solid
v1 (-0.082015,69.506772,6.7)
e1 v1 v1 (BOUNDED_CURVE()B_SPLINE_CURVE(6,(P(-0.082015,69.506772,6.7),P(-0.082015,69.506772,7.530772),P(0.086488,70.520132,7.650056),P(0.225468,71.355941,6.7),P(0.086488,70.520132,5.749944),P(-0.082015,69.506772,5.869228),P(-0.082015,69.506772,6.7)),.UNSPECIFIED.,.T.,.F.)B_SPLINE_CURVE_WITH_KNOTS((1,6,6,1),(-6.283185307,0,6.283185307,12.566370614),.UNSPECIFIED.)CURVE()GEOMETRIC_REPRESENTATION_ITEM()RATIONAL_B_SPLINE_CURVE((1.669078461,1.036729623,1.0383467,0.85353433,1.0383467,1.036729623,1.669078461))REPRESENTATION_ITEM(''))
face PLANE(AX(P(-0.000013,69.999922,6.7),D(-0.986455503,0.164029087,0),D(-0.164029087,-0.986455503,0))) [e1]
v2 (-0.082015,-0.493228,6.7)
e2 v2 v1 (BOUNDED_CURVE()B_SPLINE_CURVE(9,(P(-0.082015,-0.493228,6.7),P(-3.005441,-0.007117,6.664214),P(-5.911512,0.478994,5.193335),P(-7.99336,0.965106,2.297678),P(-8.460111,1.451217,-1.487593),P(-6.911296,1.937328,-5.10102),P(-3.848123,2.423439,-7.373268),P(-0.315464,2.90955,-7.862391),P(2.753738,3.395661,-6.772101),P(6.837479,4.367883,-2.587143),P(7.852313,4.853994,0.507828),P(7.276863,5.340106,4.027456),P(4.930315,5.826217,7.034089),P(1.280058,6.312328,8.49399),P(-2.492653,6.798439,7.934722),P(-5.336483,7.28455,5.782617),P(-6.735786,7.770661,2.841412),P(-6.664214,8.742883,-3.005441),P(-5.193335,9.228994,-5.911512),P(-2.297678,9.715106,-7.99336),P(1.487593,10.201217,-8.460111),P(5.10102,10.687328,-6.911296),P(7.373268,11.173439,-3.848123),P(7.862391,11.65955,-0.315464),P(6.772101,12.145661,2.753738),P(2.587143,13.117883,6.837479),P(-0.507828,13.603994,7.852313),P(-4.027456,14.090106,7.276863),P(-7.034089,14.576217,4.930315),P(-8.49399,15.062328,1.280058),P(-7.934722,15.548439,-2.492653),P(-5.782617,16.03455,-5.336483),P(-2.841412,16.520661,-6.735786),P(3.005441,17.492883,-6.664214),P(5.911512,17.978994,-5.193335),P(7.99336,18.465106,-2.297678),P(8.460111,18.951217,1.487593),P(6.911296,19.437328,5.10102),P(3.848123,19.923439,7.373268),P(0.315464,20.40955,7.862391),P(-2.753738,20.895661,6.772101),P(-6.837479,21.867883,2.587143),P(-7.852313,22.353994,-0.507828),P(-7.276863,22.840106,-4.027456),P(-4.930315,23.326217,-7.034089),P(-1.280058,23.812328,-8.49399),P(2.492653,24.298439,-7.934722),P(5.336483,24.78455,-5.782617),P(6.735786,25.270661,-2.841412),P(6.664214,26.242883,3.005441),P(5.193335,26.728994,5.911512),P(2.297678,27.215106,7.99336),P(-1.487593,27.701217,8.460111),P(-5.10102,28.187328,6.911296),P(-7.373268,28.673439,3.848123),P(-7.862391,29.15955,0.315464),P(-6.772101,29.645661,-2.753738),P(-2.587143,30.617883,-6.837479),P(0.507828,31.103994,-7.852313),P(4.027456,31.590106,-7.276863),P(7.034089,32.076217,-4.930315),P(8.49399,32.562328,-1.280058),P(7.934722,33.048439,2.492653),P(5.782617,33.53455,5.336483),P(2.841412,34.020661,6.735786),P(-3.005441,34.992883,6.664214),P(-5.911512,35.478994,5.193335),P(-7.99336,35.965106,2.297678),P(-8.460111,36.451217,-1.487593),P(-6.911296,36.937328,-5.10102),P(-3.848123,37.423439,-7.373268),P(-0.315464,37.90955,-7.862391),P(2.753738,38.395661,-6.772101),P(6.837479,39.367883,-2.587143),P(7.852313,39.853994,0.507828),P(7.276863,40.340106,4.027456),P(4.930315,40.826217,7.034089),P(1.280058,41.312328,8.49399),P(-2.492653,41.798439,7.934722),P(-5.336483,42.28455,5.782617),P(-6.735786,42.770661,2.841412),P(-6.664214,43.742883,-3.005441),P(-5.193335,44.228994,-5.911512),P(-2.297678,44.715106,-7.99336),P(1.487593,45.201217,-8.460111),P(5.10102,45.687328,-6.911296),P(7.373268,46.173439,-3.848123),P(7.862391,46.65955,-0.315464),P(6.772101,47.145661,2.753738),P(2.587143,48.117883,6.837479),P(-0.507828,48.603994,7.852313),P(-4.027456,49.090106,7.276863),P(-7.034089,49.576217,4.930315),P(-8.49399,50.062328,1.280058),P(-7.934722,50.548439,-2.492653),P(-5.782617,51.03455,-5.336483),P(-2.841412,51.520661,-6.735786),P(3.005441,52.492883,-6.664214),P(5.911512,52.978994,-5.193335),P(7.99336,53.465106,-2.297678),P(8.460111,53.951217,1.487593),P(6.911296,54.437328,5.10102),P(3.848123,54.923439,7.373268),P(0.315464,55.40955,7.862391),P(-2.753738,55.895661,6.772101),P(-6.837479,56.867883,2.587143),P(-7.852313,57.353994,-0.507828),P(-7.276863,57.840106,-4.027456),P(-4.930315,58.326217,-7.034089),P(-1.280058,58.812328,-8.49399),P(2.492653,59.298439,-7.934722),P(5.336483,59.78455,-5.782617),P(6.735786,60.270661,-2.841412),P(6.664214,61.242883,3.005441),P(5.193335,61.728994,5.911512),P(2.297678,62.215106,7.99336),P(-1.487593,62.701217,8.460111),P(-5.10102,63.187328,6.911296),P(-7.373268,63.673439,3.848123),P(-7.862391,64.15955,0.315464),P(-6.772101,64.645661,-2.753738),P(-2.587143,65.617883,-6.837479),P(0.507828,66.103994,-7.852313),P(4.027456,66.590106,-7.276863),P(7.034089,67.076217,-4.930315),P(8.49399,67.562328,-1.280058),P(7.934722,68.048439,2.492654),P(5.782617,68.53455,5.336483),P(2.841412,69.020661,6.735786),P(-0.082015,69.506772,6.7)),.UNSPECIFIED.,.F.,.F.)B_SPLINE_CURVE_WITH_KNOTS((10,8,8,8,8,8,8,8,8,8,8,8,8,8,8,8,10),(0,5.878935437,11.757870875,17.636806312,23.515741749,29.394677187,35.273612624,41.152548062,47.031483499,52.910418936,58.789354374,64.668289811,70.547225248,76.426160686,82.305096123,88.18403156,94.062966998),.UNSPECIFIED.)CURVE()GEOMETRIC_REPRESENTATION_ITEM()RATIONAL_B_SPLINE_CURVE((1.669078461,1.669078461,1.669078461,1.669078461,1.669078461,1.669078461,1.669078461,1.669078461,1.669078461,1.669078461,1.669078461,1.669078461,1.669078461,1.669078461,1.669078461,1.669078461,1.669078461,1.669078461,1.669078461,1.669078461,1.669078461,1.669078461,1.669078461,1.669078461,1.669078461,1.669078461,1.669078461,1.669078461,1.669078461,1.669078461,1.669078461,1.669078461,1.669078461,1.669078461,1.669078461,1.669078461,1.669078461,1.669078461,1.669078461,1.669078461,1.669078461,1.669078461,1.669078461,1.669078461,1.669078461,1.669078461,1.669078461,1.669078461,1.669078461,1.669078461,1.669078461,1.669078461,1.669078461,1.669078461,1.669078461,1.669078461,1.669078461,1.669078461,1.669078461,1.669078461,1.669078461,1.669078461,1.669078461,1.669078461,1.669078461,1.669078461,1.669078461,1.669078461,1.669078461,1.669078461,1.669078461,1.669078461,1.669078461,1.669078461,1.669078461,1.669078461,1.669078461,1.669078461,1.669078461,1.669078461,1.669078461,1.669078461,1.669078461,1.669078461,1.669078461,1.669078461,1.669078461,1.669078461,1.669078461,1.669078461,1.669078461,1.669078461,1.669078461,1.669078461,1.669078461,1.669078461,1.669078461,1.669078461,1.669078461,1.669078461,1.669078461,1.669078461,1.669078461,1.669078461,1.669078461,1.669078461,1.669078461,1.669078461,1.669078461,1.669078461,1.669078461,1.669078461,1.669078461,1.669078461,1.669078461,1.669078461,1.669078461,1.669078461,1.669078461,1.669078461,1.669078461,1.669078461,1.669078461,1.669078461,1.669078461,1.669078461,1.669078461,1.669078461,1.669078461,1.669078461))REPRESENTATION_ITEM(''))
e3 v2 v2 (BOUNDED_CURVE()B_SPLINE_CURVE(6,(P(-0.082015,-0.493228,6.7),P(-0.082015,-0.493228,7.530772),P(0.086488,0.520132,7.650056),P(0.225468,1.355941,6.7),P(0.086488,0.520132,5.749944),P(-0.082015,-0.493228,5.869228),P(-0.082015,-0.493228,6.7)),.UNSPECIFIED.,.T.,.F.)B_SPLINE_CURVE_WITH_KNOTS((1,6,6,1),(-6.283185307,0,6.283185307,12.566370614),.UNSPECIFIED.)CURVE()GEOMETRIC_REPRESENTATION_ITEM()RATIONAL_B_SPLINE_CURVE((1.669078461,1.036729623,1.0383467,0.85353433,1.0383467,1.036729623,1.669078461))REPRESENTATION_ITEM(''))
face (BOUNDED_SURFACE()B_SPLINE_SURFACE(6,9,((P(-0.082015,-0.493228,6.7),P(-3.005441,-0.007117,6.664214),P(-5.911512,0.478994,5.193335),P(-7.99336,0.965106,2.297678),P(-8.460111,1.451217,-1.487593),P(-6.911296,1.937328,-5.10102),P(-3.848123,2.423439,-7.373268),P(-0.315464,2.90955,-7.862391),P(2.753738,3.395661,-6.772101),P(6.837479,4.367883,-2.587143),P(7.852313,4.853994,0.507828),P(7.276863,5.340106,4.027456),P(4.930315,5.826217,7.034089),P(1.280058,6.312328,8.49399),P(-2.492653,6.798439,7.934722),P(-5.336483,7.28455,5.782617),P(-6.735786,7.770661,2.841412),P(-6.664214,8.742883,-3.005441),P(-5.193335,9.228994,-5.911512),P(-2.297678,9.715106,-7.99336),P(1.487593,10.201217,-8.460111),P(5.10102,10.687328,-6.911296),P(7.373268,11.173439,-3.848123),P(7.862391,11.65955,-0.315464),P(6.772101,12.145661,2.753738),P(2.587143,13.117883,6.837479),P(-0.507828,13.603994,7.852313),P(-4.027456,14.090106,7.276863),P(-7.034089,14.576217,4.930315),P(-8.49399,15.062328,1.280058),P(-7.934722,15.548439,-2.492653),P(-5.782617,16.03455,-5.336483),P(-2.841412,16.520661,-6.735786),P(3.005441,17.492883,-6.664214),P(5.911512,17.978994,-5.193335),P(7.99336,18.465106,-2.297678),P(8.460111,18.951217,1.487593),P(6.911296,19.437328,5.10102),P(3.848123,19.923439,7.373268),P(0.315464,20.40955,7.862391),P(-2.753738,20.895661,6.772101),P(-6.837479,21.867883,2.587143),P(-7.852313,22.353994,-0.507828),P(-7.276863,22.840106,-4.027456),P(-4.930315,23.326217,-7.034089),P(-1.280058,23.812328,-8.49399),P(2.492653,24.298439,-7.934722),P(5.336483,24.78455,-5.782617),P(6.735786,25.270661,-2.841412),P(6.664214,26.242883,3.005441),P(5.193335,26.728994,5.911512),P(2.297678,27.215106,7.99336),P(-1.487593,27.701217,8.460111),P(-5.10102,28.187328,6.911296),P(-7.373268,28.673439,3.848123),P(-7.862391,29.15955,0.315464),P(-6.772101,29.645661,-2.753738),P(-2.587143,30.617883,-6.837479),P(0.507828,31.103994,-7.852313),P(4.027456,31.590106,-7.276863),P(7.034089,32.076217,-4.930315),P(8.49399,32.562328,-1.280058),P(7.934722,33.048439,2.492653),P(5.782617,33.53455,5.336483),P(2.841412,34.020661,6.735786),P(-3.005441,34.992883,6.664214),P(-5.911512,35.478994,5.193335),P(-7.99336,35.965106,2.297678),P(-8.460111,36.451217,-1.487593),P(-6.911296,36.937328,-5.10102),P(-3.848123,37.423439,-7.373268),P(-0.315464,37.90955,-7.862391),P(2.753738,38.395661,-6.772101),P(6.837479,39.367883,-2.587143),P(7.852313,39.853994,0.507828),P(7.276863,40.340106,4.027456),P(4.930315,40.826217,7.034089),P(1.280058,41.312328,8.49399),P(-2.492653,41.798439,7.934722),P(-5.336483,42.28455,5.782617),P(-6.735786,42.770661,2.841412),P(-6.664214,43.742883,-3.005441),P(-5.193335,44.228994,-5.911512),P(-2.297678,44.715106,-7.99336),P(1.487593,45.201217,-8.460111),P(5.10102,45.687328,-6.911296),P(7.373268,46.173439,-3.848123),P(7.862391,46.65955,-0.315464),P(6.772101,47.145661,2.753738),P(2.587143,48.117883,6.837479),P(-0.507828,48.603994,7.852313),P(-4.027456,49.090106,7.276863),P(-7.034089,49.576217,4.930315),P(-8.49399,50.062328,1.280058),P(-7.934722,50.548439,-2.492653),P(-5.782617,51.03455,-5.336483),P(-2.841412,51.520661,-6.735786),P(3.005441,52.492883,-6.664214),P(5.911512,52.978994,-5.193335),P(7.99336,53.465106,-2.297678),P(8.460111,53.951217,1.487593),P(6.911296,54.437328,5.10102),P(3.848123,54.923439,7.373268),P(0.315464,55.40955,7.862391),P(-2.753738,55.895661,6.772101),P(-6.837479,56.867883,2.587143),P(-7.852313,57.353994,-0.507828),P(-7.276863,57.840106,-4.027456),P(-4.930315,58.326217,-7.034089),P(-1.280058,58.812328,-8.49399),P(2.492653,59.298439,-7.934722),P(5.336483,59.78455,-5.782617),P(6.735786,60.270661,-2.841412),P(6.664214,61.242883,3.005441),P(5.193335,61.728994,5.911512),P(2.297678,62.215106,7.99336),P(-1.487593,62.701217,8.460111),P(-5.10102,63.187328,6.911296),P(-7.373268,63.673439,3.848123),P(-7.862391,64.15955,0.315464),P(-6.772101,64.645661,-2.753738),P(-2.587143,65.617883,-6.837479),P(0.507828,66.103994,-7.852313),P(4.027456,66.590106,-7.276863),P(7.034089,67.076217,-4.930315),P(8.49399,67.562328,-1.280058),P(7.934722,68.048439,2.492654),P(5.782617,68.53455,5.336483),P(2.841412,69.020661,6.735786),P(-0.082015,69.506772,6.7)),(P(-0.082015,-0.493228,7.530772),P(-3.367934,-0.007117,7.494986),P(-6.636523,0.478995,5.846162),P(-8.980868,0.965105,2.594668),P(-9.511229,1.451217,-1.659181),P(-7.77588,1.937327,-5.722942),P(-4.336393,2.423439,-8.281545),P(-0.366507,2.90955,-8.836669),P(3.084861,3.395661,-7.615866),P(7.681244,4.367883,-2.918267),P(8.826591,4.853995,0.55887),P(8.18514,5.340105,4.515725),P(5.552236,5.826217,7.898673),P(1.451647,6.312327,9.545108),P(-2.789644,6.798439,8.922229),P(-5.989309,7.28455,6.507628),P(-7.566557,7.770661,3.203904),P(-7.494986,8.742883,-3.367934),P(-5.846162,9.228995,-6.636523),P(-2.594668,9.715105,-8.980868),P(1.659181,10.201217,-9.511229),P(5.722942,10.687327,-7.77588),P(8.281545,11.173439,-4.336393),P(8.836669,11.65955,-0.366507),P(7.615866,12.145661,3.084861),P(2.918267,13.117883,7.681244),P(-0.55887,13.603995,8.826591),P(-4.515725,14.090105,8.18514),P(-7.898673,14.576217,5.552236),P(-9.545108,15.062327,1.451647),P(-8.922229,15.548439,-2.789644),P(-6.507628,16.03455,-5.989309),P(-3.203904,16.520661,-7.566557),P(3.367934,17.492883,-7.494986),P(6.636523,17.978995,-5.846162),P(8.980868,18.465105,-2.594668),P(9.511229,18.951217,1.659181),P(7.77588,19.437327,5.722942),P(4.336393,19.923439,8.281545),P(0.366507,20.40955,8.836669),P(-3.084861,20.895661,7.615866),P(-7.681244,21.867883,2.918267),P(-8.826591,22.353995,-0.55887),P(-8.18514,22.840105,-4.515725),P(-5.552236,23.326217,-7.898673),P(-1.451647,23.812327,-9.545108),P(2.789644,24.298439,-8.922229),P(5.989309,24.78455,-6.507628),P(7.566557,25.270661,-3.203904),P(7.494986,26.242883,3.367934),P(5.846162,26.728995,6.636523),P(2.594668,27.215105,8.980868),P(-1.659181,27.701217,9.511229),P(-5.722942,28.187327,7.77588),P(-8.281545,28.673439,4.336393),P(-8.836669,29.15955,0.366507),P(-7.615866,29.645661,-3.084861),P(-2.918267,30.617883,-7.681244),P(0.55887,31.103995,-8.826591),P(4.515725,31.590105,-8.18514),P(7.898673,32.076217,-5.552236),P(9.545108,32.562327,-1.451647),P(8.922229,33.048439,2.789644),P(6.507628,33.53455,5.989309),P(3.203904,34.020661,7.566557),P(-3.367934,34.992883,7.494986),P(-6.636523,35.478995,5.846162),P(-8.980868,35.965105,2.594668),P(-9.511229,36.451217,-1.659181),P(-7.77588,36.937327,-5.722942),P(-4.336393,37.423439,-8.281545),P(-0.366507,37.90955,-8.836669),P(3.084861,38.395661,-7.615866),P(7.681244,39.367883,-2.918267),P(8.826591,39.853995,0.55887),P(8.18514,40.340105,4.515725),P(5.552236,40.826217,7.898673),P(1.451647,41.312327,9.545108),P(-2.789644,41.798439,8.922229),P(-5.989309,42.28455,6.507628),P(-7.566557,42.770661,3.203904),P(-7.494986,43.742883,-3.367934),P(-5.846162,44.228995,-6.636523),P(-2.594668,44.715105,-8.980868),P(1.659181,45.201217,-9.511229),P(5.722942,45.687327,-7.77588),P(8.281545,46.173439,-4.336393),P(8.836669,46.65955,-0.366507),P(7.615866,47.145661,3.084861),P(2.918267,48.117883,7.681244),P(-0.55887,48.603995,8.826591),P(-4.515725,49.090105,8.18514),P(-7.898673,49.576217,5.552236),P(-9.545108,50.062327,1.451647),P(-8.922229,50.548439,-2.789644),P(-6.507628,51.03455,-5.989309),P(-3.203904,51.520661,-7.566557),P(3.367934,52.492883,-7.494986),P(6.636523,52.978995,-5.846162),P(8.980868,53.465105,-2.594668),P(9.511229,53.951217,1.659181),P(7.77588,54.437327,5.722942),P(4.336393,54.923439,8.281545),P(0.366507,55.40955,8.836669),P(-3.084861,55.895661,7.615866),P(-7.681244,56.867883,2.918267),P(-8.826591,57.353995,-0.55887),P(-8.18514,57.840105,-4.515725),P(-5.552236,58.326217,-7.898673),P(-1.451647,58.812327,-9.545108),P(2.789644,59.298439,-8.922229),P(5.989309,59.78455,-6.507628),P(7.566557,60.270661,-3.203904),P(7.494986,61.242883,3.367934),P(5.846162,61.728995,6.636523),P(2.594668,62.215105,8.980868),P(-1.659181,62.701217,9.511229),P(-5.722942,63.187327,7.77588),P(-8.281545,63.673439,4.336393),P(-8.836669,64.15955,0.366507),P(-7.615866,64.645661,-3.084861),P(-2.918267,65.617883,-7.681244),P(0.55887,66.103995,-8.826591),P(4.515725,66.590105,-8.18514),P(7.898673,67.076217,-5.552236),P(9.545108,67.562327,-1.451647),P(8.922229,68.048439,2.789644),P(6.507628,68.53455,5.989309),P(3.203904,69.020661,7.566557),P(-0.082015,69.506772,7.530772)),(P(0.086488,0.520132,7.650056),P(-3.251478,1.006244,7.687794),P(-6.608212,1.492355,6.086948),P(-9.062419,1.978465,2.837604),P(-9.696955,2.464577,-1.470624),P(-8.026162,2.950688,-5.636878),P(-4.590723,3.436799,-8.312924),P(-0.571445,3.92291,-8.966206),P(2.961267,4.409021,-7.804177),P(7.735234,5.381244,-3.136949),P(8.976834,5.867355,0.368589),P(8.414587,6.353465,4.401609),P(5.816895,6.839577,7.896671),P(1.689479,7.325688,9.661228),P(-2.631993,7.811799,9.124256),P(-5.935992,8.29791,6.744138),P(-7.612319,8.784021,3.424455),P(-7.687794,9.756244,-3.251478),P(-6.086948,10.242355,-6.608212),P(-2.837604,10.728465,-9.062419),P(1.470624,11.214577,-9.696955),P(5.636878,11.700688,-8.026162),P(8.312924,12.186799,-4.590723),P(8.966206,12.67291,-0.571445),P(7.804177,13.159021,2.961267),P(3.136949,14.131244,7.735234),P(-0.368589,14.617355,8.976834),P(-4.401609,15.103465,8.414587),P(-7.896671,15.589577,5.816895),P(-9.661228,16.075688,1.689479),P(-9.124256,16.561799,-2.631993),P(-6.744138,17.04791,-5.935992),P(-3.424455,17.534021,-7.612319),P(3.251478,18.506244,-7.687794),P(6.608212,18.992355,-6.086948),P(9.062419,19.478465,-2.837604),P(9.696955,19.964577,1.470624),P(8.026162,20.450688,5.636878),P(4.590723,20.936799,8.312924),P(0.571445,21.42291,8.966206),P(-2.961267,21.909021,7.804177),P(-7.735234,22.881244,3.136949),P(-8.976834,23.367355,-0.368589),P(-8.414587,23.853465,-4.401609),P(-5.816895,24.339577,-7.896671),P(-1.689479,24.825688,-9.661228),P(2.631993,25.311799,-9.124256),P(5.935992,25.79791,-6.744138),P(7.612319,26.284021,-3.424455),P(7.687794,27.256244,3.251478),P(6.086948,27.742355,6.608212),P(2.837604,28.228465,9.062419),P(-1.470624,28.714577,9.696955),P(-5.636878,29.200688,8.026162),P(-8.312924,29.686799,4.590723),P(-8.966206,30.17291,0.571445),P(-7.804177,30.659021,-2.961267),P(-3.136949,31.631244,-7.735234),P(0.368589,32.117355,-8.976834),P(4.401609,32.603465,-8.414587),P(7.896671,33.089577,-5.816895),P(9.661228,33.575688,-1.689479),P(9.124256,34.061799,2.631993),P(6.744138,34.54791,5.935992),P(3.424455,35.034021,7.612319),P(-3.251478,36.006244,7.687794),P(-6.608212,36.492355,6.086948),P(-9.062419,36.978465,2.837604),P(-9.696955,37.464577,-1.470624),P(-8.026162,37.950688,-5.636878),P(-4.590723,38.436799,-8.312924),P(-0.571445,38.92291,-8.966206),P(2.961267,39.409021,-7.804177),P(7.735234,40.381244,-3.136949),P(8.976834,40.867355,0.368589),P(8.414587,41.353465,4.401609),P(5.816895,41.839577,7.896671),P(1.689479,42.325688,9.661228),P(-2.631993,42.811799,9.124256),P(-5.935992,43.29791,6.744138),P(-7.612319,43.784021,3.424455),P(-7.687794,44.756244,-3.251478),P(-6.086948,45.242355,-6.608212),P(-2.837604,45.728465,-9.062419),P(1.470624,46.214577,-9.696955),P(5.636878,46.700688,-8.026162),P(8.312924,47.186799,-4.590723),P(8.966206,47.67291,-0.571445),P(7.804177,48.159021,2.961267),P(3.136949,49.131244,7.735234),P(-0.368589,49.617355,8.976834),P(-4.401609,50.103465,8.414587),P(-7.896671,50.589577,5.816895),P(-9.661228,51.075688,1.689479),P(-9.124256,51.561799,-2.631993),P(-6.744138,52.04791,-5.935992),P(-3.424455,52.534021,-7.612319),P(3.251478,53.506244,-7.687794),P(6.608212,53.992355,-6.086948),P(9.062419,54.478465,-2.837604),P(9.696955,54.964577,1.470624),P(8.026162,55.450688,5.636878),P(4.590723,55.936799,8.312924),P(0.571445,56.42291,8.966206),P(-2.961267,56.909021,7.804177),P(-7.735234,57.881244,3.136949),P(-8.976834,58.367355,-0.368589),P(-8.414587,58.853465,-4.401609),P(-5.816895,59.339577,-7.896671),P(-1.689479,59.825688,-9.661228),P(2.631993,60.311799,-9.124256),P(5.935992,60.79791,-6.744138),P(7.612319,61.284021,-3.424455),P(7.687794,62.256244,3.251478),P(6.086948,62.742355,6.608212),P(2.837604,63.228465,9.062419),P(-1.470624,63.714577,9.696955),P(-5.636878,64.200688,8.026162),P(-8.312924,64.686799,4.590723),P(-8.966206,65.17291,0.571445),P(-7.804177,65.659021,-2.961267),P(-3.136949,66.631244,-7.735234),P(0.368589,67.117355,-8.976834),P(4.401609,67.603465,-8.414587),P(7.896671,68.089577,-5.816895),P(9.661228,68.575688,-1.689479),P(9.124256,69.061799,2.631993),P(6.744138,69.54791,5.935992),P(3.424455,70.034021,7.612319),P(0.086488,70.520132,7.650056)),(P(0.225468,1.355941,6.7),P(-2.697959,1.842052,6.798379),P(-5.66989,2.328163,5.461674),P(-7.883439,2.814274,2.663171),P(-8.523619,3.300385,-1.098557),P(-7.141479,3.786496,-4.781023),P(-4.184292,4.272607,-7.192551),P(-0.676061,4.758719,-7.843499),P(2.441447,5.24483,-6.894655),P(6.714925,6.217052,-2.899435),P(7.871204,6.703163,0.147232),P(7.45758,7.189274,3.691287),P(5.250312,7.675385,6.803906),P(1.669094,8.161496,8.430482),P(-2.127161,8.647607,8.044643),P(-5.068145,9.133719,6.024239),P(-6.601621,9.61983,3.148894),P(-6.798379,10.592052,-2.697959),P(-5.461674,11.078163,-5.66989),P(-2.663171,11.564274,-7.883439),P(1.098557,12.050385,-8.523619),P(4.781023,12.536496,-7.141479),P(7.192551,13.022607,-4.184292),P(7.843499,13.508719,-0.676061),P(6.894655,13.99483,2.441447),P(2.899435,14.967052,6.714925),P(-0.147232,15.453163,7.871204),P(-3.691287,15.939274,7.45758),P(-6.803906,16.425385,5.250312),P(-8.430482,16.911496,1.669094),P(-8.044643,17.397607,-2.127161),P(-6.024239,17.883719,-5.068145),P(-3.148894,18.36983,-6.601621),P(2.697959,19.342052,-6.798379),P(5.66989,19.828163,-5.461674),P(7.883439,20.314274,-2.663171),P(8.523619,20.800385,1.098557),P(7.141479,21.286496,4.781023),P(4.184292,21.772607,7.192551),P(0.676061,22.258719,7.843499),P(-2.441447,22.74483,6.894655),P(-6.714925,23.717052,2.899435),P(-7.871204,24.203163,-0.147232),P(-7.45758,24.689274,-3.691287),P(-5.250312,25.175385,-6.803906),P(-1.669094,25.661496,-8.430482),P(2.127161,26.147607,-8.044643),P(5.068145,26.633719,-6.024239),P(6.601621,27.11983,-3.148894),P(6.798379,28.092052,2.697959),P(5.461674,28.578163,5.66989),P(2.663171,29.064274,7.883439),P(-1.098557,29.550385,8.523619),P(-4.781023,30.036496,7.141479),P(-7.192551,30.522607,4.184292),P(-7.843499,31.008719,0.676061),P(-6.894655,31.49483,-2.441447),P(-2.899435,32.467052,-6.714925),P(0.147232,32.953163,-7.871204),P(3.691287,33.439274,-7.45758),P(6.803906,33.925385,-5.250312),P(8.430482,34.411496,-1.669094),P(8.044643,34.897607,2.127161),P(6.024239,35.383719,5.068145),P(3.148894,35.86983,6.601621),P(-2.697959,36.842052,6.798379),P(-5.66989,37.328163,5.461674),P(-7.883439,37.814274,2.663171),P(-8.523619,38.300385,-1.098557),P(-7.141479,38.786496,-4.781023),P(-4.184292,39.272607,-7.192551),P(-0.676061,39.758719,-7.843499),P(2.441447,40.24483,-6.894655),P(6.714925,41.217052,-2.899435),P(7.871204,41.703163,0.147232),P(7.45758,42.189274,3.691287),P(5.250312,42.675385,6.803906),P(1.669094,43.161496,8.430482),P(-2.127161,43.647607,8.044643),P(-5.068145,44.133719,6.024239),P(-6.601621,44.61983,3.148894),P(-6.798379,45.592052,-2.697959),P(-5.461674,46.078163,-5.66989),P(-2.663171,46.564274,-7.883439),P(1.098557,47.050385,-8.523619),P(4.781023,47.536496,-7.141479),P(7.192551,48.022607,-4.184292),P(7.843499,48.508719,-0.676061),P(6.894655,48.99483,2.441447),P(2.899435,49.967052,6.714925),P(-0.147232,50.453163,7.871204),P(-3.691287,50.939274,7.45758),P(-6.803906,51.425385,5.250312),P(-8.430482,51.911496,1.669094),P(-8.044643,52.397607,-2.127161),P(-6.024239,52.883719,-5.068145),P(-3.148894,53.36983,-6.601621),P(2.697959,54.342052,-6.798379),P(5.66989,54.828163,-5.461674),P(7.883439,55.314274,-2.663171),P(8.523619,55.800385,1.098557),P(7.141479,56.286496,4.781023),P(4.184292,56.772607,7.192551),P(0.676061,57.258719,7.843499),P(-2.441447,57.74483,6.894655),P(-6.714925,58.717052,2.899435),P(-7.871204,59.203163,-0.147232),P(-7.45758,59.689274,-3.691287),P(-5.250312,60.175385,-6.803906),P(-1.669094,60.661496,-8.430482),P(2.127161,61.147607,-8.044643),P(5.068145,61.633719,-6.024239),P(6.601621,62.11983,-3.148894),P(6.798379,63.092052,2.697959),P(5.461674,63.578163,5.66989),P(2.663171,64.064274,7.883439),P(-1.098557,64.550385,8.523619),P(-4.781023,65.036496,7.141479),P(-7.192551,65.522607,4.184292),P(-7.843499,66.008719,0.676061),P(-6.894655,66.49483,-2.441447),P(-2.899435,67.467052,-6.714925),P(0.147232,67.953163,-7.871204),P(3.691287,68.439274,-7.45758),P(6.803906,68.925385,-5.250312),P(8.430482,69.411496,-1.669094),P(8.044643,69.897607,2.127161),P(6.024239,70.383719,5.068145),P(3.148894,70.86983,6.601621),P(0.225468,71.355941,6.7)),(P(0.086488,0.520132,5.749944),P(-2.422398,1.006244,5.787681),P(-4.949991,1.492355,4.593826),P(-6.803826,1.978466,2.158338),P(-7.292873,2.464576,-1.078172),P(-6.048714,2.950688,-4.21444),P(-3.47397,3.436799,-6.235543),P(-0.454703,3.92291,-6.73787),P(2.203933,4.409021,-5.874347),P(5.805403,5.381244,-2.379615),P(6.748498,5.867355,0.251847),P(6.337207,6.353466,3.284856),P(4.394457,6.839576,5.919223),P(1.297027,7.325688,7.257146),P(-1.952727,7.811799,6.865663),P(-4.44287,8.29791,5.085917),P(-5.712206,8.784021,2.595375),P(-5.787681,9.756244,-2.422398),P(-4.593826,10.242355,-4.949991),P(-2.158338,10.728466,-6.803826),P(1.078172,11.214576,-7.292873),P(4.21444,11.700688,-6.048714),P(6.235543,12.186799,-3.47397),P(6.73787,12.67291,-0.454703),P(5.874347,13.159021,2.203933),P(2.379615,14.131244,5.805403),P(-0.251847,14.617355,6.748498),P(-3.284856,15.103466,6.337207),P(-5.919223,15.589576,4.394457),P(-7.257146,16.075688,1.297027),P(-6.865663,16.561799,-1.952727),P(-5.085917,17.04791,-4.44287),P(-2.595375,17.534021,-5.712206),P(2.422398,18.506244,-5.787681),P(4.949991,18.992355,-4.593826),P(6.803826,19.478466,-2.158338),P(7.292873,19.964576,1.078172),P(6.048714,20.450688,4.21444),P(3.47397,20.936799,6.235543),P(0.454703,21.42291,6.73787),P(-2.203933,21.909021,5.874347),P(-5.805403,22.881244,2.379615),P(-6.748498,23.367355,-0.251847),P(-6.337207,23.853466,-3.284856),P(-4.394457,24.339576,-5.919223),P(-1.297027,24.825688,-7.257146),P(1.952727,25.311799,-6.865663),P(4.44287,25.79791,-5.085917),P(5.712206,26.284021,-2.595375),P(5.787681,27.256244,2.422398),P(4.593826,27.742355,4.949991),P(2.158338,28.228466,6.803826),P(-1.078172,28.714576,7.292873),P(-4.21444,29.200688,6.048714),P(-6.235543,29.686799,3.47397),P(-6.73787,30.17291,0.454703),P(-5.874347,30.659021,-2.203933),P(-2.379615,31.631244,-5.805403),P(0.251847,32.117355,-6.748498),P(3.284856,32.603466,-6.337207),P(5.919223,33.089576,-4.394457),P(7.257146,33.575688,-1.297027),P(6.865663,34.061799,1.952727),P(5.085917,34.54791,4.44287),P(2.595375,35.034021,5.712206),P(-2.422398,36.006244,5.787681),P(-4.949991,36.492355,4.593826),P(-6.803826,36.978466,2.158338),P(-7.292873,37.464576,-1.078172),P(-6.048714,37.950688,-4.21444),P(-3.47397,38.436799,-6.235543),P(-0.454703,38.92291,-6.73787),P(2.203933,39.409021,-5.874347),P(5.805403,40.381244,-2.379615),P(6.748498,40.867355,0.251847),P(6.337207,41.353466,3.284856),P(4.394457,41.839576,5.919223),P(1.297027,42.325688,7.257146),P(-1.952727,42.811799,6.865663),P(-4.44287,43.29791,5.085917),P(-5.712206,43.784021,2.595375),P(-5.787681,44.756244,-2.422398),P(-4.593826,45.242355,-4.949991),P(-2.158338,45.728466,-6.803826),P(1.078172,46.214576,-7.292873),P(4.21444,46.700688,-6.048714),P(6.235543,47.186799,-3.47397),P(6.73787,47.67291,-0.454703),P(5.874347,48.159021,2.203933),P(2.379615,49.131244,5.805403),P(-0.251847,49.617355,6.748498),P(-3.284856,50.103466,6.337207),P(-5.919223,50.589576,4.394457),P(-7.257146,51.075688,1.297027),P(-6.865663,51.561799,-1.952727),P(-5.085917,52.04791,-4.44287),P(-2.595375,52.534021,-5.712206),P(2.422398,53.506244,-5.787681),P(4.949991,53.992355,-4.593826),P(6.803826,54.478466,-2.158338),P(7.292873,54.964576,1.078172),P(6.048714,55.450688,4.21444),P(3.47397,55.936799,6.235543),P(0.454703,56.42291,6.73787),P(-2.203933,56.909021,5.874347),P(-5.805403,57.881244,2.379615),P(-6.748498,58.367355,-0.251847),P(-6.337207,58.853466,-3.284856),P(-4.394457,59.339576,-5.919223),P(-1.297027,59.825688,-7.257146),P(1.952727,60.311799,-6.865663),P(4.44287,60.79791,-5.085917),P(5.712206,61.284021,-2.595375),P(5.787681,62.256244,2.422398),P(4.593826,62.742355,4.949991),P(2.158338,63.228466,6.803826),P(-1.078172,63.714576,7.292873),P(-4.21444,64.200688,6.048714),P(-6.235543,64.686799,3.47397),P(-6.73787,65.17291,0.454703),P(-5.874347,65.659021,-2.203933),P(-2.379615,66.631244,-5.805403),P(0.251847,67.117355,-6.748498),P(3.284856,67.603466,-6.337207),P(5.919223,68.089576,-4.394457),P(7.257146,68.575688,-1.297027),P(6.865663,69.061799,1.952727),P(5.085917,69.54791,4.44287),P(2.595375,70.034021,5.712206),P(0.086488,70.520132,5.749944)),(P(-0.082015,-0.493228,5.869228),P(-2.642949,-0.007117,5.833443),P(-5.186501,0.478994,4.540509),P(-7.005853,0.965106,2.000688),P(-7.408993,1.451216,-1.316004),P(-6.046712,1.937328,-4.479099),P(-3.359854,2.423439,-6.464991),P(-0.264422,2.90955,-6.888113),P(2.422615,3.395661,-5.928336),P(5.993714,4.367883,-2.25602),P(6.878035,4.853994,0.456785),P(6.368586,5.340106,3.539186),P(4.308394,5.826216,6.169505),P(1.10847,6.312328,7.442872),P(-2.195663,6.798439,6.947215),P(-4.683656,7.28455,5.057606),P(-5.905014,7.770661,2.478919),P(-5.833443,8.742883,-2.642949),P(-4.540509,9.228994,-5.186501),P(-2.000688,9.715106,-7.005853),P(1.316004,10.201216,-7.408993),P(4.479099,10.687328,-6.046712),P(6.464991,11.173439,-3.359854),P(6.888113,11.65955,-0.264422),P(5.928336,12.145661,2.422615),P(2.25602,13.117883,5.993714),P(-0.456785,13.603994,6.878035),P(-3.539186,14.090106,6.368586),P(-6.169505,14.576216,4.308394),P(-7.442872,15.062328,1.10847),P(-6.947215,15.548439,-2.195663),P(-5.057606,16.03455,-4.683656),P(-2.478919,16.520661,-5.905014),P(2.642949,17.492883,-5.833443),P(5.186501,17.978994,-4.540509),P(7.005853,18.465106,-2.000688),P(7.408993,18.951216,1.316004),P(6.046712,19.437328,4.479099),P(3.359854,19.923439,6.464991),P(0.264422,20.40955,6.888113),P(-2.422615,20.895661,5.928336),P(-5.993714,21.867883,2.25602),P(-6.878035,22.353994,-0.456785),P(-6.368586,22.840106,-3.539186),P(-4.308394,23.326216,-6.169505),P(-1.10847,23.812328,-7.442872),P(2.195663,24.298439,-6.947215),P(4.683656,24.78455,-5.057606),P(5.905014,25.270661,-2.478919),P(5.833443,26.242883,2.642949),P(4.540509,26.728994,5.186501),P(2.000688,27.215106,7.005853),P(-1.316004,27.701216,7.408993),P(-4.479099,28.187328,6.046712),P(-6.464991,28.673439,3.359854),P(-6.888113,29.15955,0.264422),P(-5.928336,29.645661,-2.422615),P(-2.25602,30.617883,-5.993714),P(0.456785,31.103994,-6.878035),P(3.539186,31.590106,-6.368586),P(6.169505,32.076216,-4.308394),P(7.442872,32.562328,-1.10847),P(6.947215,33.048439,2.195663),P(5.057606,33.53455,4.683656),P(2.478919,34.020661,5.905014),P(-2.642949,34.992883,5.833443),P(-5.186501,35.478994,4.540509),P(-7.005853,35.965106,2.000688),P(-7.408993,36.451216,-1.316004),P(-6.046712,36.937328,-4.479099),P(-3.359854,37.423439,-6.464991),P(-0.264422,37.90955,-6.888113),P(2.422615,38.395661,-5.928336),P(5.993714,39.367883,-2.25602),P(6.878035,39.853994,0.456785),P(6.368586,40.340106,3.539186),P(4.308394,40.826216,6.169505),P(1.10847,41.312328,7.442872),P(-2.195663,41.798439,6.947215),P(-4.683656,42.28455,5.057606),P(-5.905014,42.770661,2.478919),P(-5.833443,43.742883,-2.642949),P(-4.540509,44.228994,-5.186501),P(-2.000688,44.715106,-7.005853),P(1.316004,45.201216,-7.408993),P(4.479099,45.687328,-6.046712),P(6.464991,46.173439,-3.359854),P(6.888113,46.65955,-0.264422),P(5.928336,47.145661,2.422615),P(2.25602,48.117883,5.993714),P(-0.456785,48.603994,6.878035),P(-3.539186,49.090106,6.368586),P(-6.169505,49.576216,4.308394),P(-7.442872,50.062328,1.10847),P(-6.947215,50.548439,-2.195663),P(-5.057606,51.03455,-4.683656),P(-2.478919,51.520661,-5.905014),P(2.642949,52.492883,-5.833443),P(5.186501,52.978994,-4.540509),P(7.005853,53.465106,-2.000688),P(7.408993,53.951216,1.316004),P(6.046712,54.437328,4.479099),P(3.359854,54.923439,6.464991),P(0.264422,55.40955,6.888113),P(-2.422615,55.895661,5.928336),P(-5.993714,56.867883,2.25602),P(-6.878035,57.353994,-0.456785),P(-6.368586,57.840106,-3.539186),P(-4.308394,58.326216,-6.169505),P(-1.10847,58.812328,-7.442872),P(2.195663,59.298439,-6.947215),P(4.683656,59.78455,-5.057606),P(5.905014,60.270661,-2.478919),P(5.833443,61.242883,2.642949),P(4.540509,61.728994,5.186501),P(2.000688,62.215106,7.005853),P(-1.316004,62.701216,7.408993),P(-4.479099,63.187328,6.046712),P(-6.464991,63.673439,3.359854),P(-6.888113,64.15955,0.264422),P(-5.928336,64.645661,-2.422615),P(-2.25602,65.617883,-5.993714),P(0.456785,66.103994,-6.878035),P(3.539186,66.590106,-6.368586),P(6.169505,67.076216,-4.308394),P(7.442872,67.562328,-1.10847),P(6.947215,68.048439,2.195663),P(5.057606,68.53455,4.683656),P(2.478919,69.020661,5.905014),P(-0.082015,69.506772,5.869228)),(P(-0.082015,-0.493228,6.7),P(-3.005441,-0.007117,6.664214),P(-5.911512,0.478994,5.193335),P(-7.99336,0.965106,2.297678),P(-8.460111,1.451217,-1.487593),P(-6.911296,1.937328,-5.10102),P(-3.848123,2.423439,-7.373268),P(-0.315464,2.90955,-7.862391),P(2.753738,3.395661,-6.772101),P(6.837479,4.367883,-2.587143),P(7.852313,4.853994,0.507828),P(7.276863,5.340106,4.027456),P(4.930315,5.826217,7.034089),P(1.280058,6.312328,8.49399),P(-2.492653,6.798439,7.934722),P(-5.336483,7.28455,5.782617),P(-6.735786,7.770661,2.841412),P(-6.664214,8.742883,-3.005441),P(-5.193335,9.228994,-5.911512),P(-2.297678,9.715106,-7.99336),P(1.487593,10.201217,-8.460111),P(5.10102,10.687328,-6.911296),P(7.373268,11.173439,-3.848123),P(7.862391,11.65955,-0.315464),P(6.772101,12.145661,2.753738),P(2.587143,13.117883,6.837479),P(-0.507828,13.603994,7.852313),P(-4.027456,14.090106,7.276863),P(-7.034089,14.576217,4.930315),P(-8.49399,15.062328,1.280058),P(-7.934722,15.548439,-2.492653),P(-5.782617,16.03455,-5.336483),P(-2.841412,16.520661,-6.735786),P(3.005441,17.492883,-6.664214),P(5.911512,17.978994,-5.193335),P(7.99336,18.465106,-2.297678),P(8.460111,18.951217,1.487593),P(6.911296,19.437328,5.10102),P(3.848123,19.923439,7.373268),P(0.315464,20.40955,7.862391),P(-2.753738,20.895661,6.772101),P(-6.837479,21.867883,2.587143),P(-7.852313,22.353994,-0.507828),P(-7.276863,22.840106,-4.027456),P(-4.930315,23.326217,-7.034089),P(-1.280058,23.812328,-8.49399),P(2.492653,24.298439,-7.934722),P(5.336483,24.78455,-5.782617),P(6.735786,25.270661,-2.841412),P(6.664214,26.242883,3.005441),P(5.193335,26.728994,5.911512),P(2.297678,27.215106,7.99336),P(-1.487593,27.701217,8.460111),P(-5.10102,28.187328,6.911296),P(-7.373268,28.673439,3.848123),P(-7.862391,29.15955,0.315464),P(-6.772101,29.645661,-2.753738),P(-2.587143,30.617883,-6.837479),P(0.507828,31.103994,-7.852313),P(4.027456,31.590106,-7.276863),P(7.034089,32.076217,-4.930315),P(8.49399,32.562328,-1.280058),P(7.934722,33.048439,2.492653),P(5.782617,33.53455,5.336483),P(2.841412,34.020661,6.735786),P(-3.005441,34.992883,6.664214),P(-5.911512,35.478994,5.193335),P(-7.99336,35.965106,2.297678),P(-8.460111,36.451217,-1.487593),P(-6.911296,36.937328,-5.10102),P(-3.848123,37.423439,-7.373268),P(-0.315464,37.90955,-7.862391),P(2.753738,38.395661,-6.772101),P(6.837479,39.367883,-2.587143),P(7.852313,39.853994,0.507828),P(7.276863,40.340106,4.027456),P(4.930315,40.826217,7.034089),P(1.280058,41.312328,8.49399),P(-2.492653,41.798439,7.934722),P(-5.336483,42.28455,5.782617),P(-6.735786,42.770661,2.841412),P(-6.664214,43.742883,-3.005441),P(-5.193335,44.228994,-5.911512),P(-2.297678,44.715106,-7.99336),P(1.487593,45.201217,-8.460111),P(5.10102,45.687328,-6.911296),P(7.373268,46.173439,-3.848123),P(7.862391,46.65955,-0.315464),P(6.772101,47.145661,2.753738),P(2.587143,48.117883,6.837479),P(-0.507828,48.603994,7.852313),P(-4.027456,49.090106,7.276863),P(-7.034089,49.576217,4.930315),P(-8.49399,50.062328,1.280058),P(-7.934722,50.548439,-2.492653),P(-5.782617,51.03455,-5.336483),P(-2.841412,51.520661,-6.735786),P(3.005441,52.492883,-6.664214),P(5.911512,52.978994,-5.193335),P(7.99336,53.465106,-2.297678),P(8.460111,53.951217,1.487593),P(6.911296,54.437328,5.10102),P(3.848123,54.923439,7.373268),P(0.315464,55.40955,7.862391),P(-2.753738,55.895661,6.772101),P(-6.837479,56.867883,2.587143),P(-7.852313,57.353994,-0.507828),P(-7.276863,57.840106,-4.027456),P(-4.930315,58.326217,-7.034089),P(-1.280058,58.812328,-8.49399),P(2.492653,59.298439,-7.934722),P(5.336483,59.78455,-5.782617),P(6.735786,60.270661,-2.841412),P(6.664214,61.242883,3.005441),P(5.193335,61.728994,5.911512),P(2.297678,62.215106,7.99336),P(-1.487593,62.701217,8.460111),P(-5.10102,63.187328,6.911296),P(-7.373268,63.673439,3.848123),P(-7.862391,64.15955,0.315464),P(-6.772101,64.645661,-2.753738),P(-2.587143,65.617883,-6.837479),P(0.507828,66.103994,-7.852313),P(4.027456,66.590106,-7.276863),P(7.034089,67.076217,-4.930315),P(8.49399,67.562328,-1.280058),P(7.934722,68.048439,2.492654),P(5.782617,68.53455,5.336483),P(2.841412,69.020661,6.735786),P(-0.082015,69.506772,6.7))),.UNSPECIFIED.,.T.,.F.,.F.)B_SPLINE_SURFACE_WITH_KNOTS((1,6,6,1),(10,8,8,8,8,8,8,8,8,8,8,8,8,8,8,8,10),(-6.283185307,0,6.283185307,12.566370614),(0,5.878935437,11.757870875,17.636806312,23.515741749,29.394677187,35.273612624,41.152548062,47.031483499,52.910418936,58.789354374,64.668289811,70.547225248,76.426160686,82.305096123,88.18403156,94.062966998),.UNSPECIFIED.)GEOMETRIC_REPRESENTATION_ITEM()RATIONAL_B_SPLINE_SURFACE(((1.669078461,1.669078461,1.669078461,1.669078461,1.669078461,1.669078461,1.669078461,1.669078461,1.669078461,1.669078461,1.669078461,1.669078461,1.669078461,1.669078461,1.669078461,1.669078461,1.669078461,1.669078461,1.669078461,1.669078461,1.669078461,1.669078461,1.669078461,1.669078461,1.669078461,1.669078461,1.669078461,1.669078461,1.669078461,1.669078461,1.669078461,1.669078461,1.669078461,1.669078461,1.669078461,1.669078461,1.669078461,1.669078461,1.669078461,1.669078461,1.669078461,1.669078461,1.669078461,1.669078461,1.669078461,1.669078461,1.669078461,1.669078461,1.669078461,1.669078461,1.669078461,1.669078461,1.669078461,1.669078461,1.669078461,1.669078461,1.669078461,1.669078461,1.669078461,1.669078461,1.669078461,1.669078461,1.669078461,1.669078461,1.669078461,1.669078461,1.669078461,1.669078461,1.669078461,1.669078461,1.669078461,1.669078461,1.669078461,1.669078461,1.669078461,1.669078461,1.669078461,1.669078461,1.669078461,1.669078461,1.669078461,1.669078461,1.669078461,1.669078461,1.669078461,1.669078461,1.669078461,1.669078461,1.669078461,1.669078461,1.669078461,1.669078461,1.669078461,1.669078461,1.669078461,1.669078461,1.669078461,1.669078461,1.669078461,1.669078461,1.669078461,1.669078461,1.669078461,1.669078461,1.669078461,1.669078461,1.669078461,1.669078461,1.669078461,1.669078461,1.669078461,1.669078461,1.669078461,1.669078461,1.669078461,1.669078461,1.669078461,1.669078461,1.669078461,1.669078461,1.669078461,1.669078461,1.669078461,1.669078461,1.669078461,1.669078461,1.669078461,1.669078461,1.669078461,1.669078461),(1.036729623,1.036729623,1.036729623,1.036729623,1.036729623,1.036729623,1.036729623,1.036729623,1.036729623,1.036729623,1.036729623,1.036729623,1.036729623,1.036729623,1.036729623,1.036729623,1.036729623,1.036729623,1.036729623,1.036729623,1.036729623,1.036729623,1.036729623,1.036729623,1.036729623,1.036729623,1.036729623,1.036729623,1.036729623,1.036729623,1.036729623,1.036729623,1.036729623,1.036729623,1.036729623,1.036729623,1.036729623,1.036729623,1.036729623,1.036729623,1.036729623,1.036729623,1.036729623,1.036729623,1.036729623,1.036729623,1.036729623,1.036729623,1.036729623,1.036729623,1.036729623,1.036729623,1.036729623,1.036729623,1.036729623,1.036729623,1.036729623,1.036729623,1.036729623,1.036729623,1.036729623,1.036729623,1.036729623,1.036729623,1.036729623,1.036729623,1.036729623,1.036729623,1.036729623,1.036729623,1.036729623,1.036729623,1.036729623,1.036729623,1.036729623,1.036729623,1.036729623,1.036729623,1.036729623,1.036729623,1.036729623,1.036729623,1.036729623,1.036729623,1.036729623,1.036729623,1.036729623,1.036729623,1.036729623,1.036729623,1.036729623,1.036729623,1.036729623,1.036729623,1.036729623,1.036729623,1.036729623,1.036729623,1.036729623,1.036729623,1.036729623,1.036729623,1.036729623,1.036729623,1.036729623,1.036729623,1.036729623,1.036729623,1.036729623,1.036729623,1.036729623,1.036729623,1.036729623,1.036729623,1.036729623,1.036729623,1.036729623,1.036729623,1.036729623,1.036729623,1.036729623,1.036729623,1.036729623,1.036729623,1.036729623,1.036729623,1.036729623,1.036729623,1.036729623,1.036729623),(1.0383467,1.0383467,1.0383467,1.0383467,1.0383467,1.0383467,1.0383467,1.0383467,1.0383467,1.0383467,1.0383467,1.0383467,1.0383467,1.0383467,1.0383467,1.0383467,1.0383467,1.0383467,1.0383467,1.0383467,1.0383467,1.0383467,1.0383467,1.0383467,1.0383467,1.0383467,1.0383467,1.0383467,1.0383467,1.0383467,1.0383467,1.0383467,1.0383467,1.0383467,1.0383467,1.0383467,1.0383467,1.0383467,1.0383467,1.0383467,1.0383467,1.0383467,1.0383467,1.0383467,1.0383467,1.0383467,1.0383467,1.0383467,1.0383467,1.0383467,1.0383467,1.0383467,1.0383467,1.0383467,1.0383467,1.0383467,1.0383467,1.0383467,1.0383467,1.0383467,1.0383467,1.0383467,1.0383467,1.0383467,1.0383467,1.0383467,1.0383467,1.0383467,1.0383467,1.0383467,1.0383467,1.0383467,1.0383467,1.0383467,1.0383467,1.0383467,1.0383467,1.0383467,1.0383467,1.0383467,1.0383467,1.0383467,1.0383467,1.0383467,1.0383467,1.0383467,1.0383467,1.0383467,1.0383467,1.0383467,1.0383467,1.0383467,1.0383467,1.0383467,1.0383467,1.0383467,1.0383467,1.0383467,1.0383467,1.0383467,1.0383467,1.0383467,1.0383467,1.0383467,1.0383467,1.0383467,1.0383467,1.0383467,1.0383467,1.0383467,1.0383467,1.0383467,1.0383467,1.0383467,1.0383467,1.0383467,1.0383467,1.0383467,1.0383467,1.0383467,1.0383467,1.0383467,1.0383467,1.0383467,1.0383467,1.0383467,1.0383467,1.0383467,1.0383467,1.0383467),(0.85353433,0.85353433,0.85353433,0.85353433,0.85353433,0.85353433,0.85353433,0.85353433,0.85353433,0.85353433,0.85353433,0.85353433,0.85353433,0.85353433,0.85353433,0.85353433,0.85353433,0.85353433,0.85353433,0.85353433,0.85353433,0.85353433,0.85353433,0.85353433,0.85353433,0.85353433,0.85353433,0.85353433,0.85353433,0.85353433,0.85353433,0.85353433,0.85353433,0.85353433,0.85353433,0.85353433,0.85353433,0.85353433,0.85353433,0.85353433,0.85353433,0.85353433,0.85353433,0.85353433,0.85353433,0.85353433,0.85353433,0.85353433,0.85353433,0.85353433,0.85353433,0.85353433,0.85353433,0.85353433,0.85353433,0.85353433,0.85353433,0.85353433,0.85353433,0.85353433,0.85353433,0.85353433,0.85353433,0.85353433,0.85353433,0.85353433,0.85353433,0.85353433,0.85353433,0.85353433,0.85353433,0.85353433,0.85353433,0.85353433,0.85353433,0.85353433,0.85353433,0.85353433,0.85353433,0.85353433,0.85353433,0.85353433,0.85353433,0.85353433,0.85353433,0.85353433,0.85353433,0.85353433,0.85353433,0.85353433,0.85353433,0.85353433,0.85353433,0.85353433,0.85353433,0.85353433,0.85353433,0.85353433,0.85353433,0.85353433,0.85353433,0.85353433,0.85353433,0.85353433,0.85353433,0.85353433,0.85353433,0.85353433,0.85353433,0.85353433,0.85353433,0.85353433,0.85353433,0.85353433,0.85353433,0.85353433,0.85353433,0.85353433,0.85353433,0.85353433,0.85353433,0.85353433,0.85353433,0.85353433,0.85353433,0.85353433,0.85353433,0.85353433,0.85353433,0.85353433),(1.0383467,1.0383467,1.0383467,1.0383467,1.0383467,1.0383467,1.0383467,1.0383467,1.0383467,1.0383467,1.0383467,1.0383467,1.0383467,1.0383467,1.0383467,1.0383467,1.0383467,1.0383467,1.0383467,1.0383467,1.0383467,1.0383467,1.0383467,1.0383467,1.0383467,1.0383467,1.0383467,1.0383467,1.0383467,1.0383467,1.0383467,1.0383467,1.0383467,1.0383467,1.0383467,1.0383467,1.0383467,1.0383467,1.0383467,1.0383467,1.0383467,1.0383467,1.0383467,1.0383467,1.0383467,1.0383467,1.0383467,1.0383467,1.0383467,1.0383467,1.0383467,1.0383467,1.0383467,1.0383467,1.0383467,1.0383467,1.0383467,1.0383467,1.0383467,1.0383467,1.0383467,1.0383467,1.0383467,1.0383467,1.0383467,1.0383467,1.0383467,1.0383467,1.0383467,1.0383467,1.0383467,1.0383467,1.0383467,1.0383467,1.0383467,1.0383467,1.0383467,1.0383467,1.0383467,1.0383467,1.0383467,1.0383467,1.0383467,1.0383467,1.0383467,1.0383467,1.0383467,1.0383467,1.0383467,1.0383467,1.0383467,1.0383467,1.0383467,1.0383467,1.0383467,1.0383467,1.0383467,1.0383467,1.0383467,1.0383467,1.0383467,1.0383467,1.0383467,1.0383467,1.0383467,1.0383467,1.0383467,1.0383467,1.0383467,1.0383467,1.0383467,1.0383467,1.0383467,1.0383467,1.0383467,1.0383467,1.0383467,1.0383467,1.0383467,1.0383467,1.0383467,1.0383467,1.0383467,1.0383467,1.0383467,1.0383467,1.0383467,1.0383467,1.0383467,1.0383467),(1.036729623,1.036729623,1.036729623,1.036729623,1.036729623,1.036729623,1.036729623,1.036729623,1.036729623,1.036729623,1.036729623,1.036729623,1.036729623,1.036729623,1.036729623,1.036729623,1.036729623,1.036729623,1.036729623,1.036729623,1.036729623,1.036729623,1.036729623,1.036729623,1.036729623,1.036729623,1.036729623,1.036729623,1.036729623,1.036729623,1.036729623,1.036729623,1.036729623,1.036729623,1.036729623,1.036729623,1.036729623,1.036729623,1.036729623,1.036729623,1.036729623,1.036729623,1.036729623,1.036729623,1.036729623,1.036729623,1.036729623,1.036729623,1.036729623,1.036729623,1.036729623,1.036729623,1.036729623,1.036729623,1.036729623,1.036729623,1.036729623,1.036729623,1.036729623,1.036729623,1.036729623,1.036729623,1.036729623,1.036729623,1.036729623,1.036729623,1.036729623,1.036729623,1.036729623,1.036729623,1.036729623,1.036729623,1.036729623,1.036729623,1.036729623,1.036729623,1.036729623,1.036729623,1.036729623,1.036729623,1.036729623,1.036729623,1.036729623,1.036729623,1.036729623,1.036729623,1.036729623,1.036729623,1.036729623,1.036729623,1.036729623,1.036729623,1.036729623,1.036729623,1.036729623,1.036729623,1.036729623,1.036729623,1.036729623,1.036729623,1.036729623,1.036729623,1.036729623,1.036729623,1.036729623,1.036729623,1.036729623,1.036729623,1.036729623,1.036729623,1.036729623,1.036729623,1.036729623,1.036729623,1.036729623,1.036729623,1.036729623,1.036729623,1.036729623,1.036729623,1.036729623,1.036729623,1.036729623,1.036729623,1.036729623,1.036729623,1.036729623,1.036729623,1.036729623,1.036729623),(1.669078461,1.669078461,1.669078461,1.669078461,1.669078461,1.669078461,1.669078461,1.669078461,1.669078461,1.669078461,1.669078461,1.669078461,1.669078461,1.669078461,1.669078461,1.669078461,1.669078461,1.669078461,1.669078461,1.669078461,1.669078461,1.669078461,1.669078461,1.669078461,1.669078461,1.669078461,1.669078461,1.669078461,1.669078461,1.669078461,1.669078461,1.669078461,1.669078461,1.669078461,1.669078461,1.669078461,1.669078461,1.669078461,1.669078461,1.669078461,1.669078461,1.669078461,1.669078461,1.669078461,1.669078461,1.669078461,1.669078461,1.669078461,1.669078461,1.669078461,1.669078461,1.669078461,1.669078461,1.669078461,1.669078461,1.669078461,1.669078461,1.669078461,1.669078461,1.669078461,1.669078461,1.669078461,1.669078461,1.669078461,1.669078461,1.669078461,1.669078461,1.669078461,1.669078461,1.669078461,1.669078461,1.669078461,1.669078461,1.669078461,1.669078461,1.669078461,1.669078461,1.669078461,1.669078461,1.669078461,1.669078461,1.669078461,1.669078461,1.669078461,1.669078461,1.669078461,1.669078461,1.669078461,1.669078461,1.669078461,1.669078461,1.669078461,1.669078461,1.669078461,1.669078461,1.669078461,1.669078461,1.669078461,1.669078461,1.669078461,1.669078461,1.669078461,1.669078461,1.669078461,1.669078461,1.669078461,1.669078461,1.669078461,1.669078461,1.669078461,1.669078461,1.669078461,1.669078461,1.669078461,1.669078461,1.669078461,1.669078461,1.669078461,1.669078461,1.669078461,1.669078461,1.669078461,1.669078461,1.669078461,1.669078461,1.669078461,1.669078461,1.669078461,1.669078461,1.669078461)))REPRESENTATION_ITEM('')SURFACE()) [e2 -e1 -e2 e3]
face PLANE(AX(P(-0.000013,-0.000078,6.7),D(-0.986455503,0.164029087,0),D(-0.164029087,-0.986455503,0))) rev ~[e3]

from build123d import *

# Parameters (mm, degrees)
SWEEP1_PITCH     = 7
SWEEP1_HEIGHT    = 70
SWEEP1_RADIUS    = 6.7
SWEEP1_PROFILE_R = 0.5


with BuildPart() as part:
    # Sweep1: sweep along a helix
    with BuildLine() as sweep1_path:
        Helix(SWEEP1_PITCH, SWEEP1_HEIGHT, SWEEP1_RADIUS, center=(0, 0, 0), direction=(0, 1, 0), lefthand=True)
    # Sweep1 profile (on start of the path) → Sweep1 (sweep)
    with BuildSketch(Plane(origin=(0, 0, 6.7), x_dir=(-0.164029087, -0.986455503, 0), z_dir=(-0.986455503, 0.164029087, 0))):
        Circle(SWEEP1_PROFILE_R)
    sweep(path=sweep1_path.line, is_frenet=True)


solid = part.part
